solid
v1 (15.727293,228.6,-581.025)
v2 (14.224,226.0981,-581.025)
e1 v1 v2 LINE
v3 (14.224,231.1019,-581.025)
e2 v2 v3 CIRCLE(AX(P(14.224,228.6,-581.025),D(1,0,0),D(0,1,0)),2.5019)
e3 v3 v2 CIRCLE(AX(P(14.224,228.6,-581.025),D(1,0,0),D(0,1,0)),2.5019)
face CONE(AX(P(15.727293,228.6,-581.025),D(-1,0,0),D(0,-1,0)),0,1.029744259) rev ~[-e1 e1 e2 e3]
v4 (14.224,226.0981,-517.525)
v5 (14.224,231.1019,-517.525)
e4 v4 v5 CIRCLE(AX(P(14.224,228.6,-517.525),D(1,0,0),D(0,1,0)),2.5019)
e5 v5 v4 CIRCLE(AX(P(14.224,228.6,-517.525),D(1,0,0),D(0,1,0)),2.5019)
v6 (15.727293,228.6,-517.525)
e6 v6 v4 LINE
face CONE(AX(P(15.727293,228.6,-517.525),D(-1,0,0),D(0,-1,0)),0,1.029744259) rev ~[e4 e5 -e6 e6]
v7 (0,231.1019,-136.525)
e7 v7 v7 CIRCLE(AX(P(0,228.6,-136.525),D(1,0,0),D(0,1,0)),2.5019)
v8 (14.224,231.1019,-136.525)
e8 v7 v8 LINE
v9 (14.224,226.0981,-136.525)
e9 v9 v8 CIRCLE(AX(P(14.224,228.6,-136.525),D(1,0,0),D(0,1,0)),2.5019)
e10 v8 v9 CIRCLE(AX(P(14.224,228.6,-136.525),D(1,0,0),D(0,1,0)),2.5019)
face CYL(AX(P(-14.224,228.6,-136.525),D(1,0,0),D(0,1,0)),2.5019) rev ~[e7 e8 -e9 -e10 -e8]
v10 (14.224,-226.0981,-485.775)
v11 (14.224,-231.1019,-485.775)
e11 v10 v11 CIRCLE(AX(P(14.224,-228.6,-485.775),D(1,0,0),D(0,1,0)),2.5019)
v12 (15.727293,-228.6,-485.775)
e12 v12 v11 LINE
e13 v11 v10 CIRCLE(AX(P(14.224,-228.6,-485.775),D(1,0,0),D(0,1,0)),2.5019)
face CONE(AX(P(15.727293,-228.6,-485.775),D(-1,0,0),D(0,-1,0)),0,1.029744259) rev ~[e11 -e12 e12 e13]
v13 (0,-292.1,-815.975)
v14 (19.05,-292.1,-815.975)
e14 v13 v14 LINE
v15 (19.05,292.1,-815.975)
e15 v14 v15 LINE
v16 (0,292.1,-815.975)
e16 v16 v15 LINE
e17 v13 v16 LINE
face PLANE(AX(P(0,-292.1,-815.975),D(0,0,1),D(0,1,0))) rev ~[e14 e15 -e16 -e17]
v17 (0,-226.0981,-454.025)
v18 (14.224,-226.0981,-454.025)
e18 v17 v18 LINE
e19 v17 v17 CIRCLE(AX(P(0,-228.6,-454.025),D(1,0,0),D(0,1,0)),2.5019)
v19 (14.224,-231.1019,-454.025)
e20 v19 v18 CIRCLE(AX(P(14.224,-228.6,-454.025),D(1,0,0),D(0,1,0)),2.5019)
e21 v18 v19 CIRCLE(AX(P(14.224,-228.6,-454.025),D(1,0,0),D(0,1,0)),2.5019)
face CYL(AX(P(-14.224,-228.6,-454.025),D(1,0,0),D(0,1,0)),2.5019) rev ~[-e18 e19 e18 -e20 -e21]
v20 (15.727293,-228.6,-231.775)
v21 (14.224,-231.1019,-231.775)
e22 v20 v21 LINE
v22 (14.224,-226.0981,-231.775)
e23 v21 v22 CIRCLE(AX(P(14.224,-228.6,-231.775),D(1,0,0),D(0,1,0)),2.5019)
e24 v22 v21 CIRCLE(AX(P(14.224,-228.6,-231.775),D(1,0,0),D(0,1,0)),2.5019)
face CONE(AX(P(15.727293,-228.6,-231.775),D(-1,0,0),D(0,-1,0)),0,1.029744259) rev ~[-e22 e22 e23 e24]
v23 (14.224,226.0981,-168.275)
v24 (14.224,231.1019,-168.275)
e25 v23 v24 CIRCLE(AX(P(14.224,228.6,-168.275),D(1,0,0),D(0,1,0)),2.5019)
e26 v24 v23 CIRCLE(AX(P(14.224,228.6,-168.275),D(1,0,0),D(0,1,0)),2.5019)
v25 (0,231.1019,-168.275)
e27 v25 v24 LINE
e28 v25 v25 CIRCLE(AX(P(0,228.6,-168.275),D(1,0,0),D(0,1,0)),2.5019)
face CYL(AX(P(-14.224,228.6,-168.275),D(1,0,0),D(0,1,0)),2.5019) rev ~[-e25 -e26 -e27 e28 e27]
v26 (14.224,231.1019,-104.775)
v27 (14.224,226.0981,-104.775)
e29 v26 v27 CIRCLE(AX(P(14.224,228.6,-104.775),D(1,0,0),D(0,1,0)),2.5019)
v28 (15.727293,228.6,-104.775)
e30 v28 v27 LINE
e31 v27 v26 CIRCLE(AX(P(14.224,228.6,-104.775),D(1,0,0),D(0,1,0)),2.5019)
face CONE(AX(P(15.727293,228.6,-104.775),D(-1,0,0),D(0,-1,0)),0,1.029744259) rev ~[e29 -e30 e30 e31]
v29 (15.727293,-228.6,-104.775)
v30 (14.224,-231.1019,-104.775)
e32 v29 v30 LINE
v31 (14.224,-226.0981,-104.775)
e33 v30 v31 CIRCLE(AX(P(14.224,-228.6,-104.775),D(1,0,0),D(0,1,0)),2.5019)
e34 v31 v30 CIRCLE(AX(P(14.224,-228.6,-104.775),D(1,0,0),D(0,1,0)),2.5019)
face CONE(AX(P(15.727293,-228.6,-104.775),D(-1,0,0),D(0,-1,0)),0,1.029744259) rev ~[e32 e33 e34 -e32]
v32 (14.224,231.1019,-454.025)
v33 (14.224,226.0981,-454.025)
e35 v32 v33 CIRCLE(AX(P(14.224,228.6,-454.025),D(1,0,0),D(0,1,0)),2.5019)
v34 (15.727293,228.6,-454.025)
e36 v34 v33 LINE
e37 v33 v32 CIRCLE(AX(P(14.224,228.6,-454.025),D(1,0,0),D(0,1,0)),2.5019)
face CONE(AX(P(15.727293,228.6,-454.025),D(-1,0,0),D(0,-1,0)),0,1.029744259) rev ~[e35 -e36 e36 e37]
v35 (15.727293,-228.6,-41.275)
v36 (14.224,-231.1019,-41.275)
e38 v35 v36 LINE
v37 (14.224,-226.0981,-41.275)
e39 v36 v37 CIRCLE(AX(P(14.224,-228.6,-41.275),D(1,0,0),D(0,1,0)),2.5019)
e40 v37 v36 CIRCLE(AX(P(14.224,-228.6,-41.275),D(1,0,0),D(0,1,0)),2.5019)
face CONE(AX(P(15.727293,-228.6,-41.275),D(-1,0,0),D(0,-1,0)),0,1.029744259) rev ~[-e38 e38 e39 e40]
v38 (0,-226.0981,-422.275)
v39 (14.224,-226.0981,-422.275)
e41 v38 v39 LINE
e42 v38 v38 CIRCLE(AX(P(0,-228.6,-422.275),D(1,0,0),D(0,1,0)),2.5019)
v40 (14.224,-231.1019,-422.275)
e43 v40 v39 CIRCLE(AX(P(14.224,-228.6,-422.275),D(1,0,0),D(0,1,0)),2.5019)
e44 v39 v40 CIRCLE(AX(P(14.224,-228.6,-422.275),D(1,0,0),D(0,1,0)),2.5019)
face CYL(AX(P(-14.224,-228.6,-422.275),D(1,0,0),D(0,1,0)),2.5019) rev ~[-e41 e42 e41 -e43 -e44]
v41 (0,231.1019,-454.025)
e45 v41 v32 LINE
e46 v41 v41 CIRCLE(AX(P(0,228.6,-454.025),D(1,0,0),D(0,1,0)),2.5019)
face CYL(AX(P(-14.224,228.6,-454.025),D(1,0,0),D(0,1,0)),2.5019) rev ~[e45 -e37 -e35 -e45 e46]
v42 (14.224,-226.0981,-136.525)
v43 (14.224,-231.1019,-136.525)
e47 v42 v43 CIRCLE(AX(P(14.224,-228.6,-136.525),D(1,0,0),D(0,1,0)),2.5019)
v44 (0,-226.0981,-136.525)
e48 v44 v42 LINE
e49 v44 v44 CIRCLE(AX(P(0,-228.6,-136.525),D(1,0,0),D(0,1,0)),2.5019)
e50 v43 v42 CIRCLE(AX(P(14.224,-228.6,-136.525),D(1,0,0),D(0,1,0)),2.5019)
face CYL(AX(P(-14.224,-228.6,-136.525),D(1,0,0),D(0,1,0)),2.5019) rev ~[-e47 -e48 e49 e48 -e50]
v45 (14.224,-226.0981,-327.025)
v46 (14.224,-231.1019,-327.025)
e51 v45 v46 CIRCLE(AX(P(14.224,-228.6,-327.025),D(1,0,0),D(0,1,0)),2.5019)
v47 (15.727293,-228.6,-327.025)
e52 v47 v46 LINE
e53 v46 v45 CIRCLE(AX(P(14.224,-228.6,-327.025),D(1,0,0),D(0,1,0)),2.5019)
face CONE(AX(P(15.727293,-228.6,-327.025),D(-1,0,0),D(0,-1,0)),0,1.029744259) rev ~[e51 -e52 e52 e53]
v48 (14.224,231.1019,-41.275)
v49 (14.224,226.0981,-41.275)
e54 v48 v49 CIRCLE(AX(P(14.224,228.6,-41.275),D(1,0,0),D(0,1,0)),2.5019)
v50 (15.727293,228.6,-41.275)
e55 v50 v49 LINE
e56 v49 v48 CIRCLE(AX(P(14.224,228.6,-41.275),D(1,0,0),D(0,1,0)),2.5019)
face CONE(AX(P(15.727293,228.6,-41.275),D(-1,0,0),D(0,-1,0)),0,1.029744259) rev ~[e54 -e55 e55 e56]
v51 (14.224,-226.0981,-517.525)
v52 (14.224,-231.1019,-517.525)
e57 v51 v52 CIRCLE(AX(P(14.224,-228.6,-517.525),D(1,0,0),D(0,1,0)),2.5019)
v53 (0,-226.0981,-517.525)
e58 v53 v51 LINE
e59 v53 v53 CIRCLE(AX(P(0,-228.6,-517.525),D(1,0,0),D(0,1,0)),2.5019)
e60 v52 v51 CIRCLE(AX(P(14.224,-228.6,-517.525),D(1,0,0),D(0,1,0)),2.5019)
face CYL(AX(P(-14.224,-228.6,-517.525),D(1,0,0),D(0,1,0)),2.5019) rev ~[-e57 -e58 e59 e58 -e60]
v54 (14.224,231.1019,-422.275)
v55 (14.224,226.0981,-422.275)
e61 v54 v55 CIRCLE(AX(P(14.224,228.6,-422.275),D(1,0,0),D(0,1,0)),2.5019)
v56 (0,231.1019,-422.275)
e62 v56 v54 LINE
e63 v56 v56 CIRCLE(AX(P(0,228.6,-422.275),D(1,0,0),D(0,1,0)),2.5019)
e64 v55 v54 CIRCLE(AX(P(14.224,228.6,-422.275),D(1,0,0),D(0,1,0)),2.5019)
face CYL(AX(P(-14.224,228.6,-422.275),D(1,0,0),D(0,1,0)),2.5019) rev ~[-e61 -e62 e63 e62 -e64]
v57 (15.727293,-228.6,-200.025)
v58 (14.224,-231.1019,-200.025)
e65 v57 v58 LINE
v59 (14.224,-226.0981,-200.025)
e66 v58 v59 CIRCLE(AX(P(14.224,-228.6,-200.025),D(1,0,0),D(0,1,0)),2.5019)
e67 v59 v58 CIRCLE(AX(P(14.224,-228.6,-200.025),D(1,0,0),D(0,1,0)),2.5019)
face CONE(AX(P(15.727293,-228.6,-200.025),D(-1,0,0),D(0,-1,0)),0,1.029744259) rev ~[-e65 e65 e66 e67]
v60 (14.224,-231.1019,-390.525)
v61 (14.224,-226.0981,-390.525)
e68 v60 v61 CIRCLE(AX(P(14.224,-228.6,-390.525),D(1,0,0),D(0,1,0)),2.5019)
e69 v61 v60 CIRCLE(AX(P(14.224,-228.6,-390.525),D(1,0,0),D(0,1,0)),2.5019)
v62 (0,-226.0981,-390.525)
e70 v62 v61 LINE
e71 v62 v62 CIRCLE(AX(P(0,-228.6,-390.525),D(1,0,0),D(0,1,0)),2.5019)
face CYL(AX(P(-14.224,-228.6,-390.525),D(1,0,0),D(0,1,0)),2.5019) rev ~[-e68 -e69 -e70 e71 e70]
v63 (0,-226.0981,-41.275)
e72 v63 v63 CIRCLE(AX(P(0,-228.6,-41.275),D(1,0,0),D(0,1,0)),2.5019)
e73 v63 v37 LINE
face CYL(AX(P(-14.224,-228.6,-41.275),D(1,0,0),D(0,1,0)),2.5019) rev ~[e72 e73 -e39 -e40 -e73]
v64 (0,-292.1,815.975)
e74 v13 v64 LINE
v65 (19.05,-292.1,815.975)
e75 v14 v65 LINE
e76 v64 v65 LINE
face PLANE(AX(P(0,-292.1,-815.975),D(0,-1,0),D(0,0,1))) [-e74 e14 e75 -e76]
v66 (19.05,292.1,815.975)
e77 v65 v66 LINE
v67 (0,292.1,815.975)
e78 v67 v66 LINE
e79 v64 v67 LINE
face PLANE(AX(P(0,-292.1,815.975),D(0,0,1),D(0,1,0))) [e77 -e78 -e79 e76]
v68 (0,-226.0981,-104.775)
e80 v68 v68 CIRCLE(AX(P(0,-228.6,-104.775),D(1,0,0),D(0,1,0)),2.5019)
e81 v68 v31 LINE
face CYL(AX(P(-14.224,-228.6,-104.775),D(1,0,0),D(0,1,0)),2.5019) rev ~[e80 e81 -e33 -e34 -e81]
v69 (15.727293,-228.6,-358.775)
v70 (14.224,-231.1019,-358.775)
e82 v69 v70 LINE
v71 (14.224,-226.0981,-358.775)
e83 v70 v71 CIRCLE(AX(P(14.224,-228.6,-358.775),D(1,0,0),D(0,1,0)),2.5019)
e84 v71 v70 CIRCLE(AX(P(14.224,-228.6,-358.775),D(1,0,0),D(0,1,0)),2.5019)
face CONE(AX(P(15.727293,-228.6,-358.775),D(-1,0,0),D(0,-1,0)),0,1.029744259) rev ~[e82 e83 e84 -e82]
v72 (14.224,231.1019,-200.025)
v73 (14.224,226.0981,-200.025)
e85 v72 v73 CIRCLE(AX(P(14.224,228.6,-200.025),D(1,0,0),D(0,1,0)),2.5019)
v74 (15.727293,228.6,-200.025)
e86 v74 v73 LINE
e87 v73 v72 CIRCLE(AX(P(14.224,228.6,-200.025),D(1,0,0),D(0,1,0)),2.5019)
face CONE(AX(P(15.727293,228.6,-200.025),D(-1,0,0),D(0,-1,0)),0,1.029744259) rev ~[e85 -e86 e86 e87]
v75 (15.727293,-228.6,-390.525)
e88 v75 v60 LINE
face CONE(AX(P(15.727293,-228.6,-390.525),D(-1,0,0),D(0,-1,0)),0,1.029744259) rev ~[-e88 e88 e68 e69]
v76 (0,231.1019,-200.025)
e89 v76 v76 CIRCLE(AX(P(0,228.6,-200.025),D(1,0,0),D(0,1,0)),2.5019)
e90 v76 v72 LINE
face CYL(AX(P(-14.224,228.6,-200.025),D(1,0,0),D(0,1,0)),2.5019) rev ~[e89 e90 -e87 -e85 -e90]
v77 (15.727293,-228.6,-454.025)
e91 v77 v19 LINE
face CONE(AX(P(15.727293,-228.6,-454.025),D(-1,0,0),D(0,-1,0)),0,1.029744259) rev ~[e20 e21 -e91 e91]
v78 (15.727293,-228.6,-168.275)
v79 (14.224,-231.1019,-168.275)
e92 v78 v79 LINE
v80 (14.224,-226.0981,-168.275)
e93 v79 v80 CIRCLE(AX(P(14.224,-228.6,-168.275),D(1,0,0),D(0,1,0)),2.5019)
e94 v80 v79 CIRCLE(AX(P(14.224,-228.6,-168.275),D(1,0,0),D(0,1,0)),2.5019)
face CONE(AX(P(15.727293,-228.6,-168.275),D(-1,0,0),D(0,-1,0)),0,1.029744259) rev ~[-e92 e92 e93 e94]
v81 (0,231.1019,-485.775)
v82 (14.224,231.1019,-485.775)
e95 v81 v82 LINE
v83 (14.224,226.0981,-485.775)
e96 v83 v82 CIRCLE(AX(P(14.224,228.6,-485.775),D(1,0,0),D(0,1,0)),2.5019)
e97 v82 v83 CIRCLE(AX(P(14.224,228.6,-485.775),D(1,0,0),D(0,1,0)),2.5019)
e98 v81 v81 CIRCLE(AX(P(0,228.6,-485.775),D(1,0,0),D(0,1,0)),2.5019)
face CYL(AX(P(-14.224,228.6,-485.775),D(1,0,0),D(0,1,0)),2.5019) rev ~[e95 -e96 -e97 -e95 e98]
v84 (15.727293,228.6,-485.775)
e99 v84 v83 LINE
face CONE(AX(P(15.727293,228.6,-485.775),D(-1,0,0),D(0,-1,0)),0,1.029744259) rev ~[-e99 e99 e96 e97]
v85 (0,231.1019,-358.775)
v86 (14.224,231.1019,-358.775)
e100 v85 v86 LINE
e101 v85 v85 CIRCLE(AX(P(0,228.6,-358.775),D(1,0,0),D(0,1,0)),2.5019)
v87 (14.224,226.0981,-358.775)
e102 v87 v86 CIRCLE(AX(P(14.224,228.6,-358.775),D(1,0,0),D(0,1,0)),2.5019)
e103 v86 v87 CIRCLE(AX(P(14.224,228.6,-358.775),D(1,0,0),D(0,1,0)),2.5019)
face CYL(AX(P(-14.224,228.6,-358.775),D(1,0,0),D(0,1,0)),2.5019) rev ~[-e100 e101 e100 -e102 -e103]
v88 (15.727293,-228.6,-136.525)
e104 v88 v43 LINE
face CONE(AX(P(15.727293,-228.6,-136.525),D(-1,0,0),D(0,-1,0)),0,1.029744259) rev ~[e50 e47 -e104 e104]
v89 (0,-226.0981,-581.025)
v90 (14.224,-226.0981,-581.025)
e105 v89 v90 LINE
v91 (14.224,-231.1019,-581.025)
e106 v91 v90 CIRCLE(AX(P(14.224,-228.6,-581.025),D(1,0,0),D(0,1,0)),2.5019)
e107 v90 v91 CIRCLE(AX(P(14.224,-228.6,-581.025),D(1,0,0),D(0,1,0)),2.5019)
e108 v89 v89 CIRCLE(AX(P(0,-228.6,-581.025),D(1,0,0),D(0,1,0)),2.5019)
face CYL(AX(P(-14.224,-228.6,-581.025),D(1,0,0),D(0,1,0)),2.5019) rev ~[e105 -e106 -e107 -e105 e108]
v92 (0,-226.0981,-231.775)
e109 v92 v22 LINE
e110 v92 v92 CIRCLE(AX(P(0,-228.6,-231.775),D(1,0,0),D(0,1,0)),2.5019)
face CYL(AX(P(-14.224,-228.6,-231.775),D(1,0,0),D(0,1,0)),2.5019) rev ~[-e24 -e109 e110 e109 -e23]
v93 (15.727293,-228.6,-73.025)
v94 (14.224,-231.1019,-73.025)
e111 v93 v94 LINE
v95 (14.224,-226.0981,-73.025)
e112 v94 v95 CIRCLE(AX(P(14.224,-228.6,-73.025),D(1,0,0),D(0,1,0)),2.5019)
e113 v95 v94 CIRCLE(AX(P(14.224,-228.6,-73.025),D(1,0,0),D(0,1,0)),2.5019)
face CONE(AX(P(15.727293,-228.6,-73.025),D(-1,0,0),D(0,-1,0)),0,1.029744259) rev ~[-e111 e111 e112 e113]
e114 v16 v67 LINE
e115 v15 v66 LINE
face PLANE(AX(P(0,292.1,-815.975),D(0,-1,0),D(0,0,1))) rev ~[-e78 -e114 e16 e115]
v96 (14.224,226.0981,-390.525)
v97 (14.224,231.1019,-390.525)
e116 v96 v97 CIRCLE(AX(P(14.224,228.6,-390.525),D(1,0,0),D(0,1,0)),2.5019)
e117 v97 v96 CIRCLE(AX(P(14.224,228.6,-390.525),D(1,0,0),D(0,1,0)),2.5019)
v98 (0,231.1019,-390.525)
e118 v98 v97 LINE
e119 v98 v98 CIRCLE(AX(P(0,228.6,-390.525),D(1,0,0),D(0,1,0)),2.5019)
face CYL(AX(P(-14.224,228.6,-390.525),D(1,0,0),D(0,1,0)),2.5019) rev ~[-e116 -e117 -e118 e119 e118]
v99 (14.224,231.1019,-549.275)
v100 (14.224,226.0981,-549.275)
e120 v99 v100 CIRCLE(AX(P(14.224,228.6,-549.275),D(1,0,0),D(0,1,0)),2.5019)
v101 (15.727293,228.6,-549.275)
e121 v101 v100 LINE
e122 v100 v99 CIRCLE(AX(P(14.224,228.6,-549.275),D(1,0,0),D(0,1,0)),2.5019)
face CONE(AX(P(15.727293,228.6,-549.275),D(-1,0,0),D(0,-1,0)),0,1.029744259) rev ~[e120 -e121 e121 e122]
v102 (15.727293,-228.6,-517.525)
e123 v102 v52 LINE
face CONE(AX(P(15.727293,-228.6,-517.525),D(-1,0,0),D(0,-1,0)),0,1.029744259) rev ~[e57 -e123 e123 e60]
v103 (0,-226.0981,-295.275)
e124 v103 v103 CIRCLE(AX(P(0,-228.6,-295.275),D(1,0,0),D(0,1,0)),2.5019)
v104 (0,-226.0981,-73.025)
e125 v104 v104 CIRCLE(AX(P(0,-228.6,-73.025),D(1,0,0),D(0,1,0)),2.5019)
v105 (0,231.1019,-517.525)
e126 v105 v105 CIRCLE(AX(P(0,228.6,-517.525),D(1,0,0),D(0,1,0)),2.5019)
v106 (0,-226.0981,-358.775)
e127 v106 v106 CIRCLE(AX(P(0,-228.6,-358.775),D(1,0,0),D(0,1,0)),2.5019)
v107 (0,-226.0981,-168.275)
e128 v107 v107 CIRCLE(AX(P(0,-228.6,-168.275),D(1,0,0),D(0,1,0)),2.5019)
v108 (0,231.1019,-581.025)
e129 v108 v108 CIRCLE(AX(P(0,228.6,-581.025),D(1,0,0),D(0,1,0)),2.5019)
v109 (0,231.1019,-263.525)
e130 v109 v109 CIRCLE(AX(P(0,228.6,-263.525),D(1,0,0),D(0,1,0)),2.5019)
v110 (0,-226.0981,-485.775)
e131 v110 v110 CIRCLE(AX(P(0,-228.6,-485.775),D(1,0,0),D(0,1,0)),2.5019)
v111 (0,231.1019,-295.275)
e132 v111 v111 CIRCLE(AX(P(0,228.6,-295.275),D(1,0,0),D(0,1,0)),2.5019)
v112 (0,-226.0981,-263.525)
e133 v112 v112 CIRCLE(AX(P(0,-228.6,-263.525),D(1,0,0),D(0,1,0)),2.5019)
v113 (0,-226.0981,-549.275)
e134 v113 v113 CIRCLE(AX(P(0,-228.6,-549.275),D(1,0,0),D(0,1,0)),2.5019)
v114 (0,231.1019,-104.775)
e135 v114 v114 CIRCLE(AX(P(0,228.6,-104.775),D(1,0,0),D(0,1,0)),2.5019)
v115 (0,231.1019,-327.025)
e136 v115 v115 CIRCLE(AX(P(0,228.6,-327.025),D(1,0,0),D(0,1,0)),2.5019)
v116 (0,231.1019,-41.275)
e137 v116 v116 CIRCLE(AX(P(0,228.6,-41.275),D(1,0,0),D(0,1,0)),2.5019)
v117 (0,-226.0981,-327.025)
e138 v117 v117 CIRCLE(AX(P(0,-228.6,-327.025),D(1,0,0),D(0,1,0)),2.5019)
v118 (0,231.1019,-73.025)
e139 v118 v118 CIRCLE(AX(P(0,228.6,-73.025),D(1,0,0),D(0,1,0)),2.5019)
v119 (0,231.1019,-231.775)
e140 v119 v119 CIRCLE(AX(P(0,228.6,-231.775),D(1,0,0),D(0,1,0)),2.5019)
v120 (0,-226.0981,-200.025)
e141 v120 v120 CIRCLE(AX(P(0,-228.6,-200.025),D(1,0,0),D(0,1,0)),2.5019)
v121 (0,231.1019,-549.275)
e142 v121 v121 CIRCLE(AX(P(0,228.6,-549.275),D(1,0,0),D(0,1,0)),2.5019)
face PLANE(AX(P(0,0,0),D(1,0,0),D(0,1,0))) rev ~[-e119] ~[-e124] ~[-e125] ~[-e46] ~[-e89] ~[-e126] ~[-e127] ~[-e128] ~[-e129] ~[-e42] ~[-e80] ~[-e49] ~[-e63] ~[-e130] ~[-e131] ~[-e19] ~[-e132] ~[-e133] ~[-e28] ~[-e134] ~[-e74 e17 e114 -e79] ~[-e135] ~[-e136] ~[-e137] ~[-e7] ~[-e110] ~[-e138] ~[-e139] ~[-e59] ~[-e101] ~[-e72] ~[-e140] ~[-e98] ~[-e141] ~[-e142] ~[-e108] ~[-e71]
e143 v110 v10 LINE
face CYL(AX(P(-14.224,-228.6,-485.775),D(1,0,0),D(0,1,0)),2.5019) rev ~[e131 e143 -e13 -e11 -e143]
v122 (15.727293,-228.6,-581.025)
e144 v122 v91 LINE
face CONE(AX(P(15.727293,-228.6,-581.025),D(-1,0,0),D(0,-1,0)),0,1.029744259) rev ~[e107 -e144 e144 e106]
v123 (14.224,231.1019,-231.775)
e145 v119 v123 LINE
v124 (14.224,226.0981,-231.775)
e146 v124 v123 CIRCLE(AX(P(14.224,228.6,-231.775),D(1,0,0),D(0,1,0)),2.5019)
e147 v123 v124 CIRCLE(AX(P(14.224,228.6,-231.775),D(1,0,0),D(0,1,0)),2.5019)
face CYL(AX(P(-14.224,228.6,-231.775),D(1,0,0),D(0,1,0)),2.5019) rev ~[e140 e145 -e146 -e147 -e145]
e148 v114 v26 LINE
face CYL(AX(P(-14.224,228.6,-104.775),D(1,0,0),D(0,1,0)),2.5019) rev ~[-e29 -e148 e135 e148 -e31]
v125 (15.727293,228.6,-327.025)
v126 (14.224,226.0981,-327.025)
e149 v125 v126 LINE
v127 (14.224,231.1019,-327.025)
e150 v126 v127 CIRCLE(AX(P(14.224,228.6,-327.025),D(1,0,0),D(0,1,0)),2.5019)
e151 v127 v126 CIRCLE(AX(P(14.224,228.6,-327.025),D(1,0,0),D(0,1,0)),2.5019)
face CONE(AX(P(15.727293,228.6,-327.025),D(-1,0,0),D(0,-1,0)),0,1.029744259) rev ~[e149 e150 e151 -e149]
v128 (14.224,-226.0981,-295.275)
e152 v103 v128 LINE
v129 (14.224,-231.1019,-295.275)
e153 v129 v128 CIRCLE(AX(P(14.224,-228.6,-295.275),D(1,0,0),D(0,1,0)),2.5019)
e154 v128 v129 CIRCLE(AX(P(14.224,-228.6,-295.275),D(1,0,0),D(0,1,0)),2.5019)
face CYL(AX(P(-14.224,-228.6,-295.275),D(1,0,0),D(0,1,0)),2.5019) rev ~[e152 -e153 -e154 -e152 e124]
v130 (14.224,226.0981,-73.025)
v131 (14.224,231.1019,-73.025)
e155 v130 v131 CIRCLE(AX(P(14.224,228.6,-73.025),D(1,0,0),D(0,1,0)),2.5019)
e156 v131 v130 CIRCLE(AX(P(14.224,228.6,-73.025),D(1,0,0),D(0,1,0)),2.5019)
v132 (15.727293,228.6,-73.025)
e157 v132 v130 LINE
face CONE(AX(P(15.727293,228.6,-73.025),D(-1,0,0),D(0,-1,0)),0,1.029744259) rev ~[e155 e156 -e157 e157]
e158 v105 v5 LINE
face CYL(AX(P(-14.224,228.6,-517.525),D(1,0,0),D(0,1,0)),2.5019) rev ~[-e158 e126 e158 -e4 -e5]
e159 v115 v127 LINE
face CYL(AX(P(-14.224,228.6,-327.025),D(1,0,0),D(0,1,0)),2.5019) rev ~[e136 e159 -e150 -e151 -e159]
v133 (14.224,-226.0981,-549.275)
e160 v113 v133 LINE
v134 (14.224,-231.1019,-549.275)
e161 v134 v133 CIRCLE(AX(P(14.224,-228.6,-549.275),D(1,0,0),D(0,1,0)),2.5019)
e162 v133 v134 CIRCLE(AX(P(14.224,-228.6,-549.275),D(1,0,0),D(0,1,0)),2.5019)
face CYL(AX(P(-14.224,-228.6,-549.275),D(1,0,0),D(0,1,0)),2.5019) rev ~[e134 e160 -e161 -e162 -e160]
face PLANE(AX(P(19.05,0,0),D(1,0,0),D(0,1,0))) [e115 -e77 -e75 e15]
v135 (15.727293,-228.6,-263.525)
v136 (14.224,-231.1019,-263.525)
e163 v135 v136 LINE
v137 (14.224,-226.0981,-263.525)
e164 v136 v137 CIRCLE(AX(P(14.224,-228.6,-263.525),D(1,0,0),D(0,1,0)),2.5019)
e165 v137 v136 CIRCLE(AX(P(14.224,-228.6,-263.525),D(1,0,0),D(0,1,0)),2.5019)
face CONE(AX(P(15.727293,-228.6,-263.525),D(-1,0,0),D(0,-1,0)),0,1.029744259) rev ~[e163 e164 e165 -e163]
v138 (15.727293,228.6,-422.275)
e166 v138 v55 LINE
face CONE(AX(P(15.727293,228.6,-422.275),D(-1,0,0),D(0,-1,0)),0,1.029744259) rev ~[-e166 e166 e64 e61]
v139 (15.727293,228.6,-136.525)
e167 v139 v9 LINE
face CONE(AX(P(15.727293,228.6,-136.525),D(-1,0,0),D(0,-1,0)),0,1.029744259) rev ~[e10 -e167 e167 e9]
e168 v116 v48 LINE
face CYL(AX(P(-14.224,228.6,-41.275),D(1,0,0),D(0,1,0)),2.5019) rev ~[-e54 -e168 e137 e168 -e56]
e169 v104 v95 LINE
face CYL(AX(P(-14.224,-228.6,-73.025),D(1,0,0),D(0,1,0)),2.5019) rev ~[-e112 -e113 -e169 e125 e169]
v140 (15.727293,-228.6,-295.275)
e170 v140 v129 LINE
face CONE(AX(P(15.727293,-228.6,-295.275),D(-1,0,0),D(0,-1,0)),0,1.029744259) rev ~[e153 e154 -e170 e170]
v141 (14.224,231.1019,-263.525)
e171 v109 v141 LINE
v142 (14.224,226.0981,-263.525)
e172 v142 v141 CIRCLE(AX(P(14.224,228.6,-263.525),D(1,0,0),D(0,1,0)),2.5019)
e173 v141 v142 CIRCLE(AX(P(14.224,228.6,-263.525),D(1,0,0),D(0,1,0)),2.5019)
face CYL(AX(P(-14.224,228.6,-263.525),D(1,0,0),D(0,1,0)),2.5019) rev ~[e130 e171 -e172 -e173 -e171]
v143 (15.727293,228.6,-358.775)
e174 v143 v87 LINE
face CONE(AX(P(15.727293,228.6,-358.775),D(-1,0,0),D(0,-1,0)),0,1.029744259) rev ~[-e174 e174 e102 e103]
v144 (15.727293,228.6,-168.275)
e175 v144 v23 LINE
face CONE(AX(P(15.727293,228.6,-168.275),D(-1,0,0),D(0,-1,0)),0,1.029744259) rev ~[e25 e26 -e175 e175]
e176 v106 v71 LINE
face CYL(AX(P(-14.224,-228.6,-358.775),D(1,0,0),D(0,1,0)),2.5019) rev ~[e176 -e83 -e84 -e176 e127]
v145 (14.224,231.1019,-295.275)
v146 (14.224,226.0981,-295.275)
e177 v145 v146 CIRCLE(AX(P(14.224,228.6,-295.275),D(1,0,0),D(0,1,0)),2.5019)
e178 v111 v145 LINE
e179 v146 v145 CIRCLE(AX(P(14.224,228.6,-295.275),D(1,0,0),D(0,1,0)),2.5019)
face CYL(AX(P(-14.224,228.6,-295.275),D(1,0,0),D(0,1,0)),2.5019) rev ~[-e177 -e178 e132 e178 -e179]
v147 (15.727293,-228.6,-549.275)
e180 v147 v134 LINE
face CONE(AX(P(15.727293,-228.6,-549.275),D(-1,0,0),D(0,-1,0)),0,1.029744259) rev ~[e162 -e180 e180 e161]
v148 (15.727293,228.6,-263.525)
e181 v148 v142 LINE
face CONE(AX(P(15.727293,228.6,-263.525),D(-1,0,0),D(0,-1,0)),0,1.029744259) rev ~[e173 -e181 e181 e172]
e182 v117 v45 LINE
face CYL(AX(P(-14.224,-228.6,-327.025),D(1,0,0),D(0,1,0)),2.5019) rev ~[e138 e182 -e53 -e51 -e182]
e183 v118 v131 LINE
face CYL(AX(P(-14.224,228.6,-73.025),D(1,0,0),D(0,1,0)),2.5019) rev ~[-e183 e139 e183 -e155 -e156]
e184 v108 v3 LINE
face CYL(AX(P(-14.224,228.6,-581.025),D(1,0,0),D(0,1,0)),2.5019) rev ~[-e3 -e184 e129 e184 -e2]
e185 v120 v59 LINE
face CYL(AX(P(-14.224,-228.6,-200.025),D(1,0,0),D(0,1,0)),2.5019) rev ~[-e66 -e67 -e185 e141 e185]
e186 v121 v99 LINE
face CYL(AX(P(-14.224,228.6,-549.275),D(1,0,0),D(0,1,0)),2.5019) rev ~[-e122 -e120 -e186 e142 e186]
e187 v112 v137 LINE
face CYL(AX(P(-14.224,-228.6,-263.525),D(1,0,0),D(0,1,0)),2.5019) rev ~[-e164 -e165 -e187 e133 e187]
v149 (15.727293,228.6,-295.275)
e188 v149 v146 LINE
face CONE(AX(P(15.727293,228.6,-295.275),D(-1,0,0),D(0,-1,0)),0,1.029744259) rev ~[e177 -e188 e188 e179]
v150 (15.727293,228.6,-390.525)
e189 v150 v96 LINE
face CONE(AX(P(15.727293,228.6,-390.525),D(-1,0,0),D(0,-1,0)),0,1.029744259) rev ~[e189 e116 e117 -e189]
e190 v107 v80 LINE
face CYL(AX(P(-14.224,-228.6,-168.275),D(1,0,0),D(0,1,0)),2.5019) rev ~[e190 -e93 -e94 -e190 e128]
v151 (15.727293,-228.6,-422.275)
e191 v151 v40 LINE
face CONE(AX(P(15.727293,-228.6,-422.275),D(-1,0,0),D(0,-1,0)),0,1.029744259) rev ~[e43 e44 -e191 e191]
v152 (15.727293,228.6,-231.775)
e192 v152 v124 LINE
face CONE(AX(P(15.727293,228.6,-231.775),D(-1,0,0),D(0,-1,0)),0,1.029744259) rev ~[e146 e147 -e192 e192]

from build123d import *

# Parameters (mm, degrees)
F0_W     = 584.2
F0_H     = 1631.95
F1_DEPTH = 19.05
F3_D     = 5.0038
F3_DEPTH = 14.224
F3_TIP   = 1.5032931827


with BuildPart() as f1:
    # F0 (on Right) → F1 (new body)
    with BuildSketch(Plane.YZ):
        Rectangle(F0_W, F0_H)
    extrude(amount=F1_DEPTH)

    # F3
    with Locations(Plane(origin=(0, 0, 0), x_dir=(0, -1, 0), z_dir=(-1, 0, 0))):
        with Locations((-228.6, -41.275), (-228.6, -73.025), (-228.6, -104.775), (-228.6, -136.525), (-228.6, -168.275), (-228.6, -200.025), (-228.6, -231.775), (-228.6, -263.525), (-228.6, -295.275), (-228.6, -327.025), (-228.6, -358.775), (-228.6, -390.525), (-228.6, -422.275), (-228.6, -485.775), (-228.6, -517.525), (-228.6, -549.275), (-228.6, -581.025), (-228.6, -454.025), (228.6, -41.275), (228.6, -73.025), (228.6, -104.775), (228.6, -136.525), (228.6, -168.275), (228.6, -200.025), (228.6, -231.775), (228.6, -263.525), (228.6, -295.275), (228.6, -327.025), (228.6, -358.775), (228.6, -390.525), (228.6, -422.275), (228.6, -454.025), (228.6, -485.775), (228.6, -517.525), (228.6, -549.275), (228.6, -581.025), (228.6, -295.275), (228.6, -327.025), (228.6, -358.775), (228.6, -390.525), (228.6, -422.275), (228.6, -454.025), (228.6, -485.775), (228.6, -517.525), (228.6, -549.275), (228.6, -581.025)):
            Hole(F3_D / 2, depth=F3_DEPTH)
            with Locations((0, 0, -(F3_DEPTH + F3_TIP / 2))):  # 118° drill point
                Cone(0, F3_D / 2, F3_TIP, mode=Mode.SUBTRACT)


solid = f1.part
